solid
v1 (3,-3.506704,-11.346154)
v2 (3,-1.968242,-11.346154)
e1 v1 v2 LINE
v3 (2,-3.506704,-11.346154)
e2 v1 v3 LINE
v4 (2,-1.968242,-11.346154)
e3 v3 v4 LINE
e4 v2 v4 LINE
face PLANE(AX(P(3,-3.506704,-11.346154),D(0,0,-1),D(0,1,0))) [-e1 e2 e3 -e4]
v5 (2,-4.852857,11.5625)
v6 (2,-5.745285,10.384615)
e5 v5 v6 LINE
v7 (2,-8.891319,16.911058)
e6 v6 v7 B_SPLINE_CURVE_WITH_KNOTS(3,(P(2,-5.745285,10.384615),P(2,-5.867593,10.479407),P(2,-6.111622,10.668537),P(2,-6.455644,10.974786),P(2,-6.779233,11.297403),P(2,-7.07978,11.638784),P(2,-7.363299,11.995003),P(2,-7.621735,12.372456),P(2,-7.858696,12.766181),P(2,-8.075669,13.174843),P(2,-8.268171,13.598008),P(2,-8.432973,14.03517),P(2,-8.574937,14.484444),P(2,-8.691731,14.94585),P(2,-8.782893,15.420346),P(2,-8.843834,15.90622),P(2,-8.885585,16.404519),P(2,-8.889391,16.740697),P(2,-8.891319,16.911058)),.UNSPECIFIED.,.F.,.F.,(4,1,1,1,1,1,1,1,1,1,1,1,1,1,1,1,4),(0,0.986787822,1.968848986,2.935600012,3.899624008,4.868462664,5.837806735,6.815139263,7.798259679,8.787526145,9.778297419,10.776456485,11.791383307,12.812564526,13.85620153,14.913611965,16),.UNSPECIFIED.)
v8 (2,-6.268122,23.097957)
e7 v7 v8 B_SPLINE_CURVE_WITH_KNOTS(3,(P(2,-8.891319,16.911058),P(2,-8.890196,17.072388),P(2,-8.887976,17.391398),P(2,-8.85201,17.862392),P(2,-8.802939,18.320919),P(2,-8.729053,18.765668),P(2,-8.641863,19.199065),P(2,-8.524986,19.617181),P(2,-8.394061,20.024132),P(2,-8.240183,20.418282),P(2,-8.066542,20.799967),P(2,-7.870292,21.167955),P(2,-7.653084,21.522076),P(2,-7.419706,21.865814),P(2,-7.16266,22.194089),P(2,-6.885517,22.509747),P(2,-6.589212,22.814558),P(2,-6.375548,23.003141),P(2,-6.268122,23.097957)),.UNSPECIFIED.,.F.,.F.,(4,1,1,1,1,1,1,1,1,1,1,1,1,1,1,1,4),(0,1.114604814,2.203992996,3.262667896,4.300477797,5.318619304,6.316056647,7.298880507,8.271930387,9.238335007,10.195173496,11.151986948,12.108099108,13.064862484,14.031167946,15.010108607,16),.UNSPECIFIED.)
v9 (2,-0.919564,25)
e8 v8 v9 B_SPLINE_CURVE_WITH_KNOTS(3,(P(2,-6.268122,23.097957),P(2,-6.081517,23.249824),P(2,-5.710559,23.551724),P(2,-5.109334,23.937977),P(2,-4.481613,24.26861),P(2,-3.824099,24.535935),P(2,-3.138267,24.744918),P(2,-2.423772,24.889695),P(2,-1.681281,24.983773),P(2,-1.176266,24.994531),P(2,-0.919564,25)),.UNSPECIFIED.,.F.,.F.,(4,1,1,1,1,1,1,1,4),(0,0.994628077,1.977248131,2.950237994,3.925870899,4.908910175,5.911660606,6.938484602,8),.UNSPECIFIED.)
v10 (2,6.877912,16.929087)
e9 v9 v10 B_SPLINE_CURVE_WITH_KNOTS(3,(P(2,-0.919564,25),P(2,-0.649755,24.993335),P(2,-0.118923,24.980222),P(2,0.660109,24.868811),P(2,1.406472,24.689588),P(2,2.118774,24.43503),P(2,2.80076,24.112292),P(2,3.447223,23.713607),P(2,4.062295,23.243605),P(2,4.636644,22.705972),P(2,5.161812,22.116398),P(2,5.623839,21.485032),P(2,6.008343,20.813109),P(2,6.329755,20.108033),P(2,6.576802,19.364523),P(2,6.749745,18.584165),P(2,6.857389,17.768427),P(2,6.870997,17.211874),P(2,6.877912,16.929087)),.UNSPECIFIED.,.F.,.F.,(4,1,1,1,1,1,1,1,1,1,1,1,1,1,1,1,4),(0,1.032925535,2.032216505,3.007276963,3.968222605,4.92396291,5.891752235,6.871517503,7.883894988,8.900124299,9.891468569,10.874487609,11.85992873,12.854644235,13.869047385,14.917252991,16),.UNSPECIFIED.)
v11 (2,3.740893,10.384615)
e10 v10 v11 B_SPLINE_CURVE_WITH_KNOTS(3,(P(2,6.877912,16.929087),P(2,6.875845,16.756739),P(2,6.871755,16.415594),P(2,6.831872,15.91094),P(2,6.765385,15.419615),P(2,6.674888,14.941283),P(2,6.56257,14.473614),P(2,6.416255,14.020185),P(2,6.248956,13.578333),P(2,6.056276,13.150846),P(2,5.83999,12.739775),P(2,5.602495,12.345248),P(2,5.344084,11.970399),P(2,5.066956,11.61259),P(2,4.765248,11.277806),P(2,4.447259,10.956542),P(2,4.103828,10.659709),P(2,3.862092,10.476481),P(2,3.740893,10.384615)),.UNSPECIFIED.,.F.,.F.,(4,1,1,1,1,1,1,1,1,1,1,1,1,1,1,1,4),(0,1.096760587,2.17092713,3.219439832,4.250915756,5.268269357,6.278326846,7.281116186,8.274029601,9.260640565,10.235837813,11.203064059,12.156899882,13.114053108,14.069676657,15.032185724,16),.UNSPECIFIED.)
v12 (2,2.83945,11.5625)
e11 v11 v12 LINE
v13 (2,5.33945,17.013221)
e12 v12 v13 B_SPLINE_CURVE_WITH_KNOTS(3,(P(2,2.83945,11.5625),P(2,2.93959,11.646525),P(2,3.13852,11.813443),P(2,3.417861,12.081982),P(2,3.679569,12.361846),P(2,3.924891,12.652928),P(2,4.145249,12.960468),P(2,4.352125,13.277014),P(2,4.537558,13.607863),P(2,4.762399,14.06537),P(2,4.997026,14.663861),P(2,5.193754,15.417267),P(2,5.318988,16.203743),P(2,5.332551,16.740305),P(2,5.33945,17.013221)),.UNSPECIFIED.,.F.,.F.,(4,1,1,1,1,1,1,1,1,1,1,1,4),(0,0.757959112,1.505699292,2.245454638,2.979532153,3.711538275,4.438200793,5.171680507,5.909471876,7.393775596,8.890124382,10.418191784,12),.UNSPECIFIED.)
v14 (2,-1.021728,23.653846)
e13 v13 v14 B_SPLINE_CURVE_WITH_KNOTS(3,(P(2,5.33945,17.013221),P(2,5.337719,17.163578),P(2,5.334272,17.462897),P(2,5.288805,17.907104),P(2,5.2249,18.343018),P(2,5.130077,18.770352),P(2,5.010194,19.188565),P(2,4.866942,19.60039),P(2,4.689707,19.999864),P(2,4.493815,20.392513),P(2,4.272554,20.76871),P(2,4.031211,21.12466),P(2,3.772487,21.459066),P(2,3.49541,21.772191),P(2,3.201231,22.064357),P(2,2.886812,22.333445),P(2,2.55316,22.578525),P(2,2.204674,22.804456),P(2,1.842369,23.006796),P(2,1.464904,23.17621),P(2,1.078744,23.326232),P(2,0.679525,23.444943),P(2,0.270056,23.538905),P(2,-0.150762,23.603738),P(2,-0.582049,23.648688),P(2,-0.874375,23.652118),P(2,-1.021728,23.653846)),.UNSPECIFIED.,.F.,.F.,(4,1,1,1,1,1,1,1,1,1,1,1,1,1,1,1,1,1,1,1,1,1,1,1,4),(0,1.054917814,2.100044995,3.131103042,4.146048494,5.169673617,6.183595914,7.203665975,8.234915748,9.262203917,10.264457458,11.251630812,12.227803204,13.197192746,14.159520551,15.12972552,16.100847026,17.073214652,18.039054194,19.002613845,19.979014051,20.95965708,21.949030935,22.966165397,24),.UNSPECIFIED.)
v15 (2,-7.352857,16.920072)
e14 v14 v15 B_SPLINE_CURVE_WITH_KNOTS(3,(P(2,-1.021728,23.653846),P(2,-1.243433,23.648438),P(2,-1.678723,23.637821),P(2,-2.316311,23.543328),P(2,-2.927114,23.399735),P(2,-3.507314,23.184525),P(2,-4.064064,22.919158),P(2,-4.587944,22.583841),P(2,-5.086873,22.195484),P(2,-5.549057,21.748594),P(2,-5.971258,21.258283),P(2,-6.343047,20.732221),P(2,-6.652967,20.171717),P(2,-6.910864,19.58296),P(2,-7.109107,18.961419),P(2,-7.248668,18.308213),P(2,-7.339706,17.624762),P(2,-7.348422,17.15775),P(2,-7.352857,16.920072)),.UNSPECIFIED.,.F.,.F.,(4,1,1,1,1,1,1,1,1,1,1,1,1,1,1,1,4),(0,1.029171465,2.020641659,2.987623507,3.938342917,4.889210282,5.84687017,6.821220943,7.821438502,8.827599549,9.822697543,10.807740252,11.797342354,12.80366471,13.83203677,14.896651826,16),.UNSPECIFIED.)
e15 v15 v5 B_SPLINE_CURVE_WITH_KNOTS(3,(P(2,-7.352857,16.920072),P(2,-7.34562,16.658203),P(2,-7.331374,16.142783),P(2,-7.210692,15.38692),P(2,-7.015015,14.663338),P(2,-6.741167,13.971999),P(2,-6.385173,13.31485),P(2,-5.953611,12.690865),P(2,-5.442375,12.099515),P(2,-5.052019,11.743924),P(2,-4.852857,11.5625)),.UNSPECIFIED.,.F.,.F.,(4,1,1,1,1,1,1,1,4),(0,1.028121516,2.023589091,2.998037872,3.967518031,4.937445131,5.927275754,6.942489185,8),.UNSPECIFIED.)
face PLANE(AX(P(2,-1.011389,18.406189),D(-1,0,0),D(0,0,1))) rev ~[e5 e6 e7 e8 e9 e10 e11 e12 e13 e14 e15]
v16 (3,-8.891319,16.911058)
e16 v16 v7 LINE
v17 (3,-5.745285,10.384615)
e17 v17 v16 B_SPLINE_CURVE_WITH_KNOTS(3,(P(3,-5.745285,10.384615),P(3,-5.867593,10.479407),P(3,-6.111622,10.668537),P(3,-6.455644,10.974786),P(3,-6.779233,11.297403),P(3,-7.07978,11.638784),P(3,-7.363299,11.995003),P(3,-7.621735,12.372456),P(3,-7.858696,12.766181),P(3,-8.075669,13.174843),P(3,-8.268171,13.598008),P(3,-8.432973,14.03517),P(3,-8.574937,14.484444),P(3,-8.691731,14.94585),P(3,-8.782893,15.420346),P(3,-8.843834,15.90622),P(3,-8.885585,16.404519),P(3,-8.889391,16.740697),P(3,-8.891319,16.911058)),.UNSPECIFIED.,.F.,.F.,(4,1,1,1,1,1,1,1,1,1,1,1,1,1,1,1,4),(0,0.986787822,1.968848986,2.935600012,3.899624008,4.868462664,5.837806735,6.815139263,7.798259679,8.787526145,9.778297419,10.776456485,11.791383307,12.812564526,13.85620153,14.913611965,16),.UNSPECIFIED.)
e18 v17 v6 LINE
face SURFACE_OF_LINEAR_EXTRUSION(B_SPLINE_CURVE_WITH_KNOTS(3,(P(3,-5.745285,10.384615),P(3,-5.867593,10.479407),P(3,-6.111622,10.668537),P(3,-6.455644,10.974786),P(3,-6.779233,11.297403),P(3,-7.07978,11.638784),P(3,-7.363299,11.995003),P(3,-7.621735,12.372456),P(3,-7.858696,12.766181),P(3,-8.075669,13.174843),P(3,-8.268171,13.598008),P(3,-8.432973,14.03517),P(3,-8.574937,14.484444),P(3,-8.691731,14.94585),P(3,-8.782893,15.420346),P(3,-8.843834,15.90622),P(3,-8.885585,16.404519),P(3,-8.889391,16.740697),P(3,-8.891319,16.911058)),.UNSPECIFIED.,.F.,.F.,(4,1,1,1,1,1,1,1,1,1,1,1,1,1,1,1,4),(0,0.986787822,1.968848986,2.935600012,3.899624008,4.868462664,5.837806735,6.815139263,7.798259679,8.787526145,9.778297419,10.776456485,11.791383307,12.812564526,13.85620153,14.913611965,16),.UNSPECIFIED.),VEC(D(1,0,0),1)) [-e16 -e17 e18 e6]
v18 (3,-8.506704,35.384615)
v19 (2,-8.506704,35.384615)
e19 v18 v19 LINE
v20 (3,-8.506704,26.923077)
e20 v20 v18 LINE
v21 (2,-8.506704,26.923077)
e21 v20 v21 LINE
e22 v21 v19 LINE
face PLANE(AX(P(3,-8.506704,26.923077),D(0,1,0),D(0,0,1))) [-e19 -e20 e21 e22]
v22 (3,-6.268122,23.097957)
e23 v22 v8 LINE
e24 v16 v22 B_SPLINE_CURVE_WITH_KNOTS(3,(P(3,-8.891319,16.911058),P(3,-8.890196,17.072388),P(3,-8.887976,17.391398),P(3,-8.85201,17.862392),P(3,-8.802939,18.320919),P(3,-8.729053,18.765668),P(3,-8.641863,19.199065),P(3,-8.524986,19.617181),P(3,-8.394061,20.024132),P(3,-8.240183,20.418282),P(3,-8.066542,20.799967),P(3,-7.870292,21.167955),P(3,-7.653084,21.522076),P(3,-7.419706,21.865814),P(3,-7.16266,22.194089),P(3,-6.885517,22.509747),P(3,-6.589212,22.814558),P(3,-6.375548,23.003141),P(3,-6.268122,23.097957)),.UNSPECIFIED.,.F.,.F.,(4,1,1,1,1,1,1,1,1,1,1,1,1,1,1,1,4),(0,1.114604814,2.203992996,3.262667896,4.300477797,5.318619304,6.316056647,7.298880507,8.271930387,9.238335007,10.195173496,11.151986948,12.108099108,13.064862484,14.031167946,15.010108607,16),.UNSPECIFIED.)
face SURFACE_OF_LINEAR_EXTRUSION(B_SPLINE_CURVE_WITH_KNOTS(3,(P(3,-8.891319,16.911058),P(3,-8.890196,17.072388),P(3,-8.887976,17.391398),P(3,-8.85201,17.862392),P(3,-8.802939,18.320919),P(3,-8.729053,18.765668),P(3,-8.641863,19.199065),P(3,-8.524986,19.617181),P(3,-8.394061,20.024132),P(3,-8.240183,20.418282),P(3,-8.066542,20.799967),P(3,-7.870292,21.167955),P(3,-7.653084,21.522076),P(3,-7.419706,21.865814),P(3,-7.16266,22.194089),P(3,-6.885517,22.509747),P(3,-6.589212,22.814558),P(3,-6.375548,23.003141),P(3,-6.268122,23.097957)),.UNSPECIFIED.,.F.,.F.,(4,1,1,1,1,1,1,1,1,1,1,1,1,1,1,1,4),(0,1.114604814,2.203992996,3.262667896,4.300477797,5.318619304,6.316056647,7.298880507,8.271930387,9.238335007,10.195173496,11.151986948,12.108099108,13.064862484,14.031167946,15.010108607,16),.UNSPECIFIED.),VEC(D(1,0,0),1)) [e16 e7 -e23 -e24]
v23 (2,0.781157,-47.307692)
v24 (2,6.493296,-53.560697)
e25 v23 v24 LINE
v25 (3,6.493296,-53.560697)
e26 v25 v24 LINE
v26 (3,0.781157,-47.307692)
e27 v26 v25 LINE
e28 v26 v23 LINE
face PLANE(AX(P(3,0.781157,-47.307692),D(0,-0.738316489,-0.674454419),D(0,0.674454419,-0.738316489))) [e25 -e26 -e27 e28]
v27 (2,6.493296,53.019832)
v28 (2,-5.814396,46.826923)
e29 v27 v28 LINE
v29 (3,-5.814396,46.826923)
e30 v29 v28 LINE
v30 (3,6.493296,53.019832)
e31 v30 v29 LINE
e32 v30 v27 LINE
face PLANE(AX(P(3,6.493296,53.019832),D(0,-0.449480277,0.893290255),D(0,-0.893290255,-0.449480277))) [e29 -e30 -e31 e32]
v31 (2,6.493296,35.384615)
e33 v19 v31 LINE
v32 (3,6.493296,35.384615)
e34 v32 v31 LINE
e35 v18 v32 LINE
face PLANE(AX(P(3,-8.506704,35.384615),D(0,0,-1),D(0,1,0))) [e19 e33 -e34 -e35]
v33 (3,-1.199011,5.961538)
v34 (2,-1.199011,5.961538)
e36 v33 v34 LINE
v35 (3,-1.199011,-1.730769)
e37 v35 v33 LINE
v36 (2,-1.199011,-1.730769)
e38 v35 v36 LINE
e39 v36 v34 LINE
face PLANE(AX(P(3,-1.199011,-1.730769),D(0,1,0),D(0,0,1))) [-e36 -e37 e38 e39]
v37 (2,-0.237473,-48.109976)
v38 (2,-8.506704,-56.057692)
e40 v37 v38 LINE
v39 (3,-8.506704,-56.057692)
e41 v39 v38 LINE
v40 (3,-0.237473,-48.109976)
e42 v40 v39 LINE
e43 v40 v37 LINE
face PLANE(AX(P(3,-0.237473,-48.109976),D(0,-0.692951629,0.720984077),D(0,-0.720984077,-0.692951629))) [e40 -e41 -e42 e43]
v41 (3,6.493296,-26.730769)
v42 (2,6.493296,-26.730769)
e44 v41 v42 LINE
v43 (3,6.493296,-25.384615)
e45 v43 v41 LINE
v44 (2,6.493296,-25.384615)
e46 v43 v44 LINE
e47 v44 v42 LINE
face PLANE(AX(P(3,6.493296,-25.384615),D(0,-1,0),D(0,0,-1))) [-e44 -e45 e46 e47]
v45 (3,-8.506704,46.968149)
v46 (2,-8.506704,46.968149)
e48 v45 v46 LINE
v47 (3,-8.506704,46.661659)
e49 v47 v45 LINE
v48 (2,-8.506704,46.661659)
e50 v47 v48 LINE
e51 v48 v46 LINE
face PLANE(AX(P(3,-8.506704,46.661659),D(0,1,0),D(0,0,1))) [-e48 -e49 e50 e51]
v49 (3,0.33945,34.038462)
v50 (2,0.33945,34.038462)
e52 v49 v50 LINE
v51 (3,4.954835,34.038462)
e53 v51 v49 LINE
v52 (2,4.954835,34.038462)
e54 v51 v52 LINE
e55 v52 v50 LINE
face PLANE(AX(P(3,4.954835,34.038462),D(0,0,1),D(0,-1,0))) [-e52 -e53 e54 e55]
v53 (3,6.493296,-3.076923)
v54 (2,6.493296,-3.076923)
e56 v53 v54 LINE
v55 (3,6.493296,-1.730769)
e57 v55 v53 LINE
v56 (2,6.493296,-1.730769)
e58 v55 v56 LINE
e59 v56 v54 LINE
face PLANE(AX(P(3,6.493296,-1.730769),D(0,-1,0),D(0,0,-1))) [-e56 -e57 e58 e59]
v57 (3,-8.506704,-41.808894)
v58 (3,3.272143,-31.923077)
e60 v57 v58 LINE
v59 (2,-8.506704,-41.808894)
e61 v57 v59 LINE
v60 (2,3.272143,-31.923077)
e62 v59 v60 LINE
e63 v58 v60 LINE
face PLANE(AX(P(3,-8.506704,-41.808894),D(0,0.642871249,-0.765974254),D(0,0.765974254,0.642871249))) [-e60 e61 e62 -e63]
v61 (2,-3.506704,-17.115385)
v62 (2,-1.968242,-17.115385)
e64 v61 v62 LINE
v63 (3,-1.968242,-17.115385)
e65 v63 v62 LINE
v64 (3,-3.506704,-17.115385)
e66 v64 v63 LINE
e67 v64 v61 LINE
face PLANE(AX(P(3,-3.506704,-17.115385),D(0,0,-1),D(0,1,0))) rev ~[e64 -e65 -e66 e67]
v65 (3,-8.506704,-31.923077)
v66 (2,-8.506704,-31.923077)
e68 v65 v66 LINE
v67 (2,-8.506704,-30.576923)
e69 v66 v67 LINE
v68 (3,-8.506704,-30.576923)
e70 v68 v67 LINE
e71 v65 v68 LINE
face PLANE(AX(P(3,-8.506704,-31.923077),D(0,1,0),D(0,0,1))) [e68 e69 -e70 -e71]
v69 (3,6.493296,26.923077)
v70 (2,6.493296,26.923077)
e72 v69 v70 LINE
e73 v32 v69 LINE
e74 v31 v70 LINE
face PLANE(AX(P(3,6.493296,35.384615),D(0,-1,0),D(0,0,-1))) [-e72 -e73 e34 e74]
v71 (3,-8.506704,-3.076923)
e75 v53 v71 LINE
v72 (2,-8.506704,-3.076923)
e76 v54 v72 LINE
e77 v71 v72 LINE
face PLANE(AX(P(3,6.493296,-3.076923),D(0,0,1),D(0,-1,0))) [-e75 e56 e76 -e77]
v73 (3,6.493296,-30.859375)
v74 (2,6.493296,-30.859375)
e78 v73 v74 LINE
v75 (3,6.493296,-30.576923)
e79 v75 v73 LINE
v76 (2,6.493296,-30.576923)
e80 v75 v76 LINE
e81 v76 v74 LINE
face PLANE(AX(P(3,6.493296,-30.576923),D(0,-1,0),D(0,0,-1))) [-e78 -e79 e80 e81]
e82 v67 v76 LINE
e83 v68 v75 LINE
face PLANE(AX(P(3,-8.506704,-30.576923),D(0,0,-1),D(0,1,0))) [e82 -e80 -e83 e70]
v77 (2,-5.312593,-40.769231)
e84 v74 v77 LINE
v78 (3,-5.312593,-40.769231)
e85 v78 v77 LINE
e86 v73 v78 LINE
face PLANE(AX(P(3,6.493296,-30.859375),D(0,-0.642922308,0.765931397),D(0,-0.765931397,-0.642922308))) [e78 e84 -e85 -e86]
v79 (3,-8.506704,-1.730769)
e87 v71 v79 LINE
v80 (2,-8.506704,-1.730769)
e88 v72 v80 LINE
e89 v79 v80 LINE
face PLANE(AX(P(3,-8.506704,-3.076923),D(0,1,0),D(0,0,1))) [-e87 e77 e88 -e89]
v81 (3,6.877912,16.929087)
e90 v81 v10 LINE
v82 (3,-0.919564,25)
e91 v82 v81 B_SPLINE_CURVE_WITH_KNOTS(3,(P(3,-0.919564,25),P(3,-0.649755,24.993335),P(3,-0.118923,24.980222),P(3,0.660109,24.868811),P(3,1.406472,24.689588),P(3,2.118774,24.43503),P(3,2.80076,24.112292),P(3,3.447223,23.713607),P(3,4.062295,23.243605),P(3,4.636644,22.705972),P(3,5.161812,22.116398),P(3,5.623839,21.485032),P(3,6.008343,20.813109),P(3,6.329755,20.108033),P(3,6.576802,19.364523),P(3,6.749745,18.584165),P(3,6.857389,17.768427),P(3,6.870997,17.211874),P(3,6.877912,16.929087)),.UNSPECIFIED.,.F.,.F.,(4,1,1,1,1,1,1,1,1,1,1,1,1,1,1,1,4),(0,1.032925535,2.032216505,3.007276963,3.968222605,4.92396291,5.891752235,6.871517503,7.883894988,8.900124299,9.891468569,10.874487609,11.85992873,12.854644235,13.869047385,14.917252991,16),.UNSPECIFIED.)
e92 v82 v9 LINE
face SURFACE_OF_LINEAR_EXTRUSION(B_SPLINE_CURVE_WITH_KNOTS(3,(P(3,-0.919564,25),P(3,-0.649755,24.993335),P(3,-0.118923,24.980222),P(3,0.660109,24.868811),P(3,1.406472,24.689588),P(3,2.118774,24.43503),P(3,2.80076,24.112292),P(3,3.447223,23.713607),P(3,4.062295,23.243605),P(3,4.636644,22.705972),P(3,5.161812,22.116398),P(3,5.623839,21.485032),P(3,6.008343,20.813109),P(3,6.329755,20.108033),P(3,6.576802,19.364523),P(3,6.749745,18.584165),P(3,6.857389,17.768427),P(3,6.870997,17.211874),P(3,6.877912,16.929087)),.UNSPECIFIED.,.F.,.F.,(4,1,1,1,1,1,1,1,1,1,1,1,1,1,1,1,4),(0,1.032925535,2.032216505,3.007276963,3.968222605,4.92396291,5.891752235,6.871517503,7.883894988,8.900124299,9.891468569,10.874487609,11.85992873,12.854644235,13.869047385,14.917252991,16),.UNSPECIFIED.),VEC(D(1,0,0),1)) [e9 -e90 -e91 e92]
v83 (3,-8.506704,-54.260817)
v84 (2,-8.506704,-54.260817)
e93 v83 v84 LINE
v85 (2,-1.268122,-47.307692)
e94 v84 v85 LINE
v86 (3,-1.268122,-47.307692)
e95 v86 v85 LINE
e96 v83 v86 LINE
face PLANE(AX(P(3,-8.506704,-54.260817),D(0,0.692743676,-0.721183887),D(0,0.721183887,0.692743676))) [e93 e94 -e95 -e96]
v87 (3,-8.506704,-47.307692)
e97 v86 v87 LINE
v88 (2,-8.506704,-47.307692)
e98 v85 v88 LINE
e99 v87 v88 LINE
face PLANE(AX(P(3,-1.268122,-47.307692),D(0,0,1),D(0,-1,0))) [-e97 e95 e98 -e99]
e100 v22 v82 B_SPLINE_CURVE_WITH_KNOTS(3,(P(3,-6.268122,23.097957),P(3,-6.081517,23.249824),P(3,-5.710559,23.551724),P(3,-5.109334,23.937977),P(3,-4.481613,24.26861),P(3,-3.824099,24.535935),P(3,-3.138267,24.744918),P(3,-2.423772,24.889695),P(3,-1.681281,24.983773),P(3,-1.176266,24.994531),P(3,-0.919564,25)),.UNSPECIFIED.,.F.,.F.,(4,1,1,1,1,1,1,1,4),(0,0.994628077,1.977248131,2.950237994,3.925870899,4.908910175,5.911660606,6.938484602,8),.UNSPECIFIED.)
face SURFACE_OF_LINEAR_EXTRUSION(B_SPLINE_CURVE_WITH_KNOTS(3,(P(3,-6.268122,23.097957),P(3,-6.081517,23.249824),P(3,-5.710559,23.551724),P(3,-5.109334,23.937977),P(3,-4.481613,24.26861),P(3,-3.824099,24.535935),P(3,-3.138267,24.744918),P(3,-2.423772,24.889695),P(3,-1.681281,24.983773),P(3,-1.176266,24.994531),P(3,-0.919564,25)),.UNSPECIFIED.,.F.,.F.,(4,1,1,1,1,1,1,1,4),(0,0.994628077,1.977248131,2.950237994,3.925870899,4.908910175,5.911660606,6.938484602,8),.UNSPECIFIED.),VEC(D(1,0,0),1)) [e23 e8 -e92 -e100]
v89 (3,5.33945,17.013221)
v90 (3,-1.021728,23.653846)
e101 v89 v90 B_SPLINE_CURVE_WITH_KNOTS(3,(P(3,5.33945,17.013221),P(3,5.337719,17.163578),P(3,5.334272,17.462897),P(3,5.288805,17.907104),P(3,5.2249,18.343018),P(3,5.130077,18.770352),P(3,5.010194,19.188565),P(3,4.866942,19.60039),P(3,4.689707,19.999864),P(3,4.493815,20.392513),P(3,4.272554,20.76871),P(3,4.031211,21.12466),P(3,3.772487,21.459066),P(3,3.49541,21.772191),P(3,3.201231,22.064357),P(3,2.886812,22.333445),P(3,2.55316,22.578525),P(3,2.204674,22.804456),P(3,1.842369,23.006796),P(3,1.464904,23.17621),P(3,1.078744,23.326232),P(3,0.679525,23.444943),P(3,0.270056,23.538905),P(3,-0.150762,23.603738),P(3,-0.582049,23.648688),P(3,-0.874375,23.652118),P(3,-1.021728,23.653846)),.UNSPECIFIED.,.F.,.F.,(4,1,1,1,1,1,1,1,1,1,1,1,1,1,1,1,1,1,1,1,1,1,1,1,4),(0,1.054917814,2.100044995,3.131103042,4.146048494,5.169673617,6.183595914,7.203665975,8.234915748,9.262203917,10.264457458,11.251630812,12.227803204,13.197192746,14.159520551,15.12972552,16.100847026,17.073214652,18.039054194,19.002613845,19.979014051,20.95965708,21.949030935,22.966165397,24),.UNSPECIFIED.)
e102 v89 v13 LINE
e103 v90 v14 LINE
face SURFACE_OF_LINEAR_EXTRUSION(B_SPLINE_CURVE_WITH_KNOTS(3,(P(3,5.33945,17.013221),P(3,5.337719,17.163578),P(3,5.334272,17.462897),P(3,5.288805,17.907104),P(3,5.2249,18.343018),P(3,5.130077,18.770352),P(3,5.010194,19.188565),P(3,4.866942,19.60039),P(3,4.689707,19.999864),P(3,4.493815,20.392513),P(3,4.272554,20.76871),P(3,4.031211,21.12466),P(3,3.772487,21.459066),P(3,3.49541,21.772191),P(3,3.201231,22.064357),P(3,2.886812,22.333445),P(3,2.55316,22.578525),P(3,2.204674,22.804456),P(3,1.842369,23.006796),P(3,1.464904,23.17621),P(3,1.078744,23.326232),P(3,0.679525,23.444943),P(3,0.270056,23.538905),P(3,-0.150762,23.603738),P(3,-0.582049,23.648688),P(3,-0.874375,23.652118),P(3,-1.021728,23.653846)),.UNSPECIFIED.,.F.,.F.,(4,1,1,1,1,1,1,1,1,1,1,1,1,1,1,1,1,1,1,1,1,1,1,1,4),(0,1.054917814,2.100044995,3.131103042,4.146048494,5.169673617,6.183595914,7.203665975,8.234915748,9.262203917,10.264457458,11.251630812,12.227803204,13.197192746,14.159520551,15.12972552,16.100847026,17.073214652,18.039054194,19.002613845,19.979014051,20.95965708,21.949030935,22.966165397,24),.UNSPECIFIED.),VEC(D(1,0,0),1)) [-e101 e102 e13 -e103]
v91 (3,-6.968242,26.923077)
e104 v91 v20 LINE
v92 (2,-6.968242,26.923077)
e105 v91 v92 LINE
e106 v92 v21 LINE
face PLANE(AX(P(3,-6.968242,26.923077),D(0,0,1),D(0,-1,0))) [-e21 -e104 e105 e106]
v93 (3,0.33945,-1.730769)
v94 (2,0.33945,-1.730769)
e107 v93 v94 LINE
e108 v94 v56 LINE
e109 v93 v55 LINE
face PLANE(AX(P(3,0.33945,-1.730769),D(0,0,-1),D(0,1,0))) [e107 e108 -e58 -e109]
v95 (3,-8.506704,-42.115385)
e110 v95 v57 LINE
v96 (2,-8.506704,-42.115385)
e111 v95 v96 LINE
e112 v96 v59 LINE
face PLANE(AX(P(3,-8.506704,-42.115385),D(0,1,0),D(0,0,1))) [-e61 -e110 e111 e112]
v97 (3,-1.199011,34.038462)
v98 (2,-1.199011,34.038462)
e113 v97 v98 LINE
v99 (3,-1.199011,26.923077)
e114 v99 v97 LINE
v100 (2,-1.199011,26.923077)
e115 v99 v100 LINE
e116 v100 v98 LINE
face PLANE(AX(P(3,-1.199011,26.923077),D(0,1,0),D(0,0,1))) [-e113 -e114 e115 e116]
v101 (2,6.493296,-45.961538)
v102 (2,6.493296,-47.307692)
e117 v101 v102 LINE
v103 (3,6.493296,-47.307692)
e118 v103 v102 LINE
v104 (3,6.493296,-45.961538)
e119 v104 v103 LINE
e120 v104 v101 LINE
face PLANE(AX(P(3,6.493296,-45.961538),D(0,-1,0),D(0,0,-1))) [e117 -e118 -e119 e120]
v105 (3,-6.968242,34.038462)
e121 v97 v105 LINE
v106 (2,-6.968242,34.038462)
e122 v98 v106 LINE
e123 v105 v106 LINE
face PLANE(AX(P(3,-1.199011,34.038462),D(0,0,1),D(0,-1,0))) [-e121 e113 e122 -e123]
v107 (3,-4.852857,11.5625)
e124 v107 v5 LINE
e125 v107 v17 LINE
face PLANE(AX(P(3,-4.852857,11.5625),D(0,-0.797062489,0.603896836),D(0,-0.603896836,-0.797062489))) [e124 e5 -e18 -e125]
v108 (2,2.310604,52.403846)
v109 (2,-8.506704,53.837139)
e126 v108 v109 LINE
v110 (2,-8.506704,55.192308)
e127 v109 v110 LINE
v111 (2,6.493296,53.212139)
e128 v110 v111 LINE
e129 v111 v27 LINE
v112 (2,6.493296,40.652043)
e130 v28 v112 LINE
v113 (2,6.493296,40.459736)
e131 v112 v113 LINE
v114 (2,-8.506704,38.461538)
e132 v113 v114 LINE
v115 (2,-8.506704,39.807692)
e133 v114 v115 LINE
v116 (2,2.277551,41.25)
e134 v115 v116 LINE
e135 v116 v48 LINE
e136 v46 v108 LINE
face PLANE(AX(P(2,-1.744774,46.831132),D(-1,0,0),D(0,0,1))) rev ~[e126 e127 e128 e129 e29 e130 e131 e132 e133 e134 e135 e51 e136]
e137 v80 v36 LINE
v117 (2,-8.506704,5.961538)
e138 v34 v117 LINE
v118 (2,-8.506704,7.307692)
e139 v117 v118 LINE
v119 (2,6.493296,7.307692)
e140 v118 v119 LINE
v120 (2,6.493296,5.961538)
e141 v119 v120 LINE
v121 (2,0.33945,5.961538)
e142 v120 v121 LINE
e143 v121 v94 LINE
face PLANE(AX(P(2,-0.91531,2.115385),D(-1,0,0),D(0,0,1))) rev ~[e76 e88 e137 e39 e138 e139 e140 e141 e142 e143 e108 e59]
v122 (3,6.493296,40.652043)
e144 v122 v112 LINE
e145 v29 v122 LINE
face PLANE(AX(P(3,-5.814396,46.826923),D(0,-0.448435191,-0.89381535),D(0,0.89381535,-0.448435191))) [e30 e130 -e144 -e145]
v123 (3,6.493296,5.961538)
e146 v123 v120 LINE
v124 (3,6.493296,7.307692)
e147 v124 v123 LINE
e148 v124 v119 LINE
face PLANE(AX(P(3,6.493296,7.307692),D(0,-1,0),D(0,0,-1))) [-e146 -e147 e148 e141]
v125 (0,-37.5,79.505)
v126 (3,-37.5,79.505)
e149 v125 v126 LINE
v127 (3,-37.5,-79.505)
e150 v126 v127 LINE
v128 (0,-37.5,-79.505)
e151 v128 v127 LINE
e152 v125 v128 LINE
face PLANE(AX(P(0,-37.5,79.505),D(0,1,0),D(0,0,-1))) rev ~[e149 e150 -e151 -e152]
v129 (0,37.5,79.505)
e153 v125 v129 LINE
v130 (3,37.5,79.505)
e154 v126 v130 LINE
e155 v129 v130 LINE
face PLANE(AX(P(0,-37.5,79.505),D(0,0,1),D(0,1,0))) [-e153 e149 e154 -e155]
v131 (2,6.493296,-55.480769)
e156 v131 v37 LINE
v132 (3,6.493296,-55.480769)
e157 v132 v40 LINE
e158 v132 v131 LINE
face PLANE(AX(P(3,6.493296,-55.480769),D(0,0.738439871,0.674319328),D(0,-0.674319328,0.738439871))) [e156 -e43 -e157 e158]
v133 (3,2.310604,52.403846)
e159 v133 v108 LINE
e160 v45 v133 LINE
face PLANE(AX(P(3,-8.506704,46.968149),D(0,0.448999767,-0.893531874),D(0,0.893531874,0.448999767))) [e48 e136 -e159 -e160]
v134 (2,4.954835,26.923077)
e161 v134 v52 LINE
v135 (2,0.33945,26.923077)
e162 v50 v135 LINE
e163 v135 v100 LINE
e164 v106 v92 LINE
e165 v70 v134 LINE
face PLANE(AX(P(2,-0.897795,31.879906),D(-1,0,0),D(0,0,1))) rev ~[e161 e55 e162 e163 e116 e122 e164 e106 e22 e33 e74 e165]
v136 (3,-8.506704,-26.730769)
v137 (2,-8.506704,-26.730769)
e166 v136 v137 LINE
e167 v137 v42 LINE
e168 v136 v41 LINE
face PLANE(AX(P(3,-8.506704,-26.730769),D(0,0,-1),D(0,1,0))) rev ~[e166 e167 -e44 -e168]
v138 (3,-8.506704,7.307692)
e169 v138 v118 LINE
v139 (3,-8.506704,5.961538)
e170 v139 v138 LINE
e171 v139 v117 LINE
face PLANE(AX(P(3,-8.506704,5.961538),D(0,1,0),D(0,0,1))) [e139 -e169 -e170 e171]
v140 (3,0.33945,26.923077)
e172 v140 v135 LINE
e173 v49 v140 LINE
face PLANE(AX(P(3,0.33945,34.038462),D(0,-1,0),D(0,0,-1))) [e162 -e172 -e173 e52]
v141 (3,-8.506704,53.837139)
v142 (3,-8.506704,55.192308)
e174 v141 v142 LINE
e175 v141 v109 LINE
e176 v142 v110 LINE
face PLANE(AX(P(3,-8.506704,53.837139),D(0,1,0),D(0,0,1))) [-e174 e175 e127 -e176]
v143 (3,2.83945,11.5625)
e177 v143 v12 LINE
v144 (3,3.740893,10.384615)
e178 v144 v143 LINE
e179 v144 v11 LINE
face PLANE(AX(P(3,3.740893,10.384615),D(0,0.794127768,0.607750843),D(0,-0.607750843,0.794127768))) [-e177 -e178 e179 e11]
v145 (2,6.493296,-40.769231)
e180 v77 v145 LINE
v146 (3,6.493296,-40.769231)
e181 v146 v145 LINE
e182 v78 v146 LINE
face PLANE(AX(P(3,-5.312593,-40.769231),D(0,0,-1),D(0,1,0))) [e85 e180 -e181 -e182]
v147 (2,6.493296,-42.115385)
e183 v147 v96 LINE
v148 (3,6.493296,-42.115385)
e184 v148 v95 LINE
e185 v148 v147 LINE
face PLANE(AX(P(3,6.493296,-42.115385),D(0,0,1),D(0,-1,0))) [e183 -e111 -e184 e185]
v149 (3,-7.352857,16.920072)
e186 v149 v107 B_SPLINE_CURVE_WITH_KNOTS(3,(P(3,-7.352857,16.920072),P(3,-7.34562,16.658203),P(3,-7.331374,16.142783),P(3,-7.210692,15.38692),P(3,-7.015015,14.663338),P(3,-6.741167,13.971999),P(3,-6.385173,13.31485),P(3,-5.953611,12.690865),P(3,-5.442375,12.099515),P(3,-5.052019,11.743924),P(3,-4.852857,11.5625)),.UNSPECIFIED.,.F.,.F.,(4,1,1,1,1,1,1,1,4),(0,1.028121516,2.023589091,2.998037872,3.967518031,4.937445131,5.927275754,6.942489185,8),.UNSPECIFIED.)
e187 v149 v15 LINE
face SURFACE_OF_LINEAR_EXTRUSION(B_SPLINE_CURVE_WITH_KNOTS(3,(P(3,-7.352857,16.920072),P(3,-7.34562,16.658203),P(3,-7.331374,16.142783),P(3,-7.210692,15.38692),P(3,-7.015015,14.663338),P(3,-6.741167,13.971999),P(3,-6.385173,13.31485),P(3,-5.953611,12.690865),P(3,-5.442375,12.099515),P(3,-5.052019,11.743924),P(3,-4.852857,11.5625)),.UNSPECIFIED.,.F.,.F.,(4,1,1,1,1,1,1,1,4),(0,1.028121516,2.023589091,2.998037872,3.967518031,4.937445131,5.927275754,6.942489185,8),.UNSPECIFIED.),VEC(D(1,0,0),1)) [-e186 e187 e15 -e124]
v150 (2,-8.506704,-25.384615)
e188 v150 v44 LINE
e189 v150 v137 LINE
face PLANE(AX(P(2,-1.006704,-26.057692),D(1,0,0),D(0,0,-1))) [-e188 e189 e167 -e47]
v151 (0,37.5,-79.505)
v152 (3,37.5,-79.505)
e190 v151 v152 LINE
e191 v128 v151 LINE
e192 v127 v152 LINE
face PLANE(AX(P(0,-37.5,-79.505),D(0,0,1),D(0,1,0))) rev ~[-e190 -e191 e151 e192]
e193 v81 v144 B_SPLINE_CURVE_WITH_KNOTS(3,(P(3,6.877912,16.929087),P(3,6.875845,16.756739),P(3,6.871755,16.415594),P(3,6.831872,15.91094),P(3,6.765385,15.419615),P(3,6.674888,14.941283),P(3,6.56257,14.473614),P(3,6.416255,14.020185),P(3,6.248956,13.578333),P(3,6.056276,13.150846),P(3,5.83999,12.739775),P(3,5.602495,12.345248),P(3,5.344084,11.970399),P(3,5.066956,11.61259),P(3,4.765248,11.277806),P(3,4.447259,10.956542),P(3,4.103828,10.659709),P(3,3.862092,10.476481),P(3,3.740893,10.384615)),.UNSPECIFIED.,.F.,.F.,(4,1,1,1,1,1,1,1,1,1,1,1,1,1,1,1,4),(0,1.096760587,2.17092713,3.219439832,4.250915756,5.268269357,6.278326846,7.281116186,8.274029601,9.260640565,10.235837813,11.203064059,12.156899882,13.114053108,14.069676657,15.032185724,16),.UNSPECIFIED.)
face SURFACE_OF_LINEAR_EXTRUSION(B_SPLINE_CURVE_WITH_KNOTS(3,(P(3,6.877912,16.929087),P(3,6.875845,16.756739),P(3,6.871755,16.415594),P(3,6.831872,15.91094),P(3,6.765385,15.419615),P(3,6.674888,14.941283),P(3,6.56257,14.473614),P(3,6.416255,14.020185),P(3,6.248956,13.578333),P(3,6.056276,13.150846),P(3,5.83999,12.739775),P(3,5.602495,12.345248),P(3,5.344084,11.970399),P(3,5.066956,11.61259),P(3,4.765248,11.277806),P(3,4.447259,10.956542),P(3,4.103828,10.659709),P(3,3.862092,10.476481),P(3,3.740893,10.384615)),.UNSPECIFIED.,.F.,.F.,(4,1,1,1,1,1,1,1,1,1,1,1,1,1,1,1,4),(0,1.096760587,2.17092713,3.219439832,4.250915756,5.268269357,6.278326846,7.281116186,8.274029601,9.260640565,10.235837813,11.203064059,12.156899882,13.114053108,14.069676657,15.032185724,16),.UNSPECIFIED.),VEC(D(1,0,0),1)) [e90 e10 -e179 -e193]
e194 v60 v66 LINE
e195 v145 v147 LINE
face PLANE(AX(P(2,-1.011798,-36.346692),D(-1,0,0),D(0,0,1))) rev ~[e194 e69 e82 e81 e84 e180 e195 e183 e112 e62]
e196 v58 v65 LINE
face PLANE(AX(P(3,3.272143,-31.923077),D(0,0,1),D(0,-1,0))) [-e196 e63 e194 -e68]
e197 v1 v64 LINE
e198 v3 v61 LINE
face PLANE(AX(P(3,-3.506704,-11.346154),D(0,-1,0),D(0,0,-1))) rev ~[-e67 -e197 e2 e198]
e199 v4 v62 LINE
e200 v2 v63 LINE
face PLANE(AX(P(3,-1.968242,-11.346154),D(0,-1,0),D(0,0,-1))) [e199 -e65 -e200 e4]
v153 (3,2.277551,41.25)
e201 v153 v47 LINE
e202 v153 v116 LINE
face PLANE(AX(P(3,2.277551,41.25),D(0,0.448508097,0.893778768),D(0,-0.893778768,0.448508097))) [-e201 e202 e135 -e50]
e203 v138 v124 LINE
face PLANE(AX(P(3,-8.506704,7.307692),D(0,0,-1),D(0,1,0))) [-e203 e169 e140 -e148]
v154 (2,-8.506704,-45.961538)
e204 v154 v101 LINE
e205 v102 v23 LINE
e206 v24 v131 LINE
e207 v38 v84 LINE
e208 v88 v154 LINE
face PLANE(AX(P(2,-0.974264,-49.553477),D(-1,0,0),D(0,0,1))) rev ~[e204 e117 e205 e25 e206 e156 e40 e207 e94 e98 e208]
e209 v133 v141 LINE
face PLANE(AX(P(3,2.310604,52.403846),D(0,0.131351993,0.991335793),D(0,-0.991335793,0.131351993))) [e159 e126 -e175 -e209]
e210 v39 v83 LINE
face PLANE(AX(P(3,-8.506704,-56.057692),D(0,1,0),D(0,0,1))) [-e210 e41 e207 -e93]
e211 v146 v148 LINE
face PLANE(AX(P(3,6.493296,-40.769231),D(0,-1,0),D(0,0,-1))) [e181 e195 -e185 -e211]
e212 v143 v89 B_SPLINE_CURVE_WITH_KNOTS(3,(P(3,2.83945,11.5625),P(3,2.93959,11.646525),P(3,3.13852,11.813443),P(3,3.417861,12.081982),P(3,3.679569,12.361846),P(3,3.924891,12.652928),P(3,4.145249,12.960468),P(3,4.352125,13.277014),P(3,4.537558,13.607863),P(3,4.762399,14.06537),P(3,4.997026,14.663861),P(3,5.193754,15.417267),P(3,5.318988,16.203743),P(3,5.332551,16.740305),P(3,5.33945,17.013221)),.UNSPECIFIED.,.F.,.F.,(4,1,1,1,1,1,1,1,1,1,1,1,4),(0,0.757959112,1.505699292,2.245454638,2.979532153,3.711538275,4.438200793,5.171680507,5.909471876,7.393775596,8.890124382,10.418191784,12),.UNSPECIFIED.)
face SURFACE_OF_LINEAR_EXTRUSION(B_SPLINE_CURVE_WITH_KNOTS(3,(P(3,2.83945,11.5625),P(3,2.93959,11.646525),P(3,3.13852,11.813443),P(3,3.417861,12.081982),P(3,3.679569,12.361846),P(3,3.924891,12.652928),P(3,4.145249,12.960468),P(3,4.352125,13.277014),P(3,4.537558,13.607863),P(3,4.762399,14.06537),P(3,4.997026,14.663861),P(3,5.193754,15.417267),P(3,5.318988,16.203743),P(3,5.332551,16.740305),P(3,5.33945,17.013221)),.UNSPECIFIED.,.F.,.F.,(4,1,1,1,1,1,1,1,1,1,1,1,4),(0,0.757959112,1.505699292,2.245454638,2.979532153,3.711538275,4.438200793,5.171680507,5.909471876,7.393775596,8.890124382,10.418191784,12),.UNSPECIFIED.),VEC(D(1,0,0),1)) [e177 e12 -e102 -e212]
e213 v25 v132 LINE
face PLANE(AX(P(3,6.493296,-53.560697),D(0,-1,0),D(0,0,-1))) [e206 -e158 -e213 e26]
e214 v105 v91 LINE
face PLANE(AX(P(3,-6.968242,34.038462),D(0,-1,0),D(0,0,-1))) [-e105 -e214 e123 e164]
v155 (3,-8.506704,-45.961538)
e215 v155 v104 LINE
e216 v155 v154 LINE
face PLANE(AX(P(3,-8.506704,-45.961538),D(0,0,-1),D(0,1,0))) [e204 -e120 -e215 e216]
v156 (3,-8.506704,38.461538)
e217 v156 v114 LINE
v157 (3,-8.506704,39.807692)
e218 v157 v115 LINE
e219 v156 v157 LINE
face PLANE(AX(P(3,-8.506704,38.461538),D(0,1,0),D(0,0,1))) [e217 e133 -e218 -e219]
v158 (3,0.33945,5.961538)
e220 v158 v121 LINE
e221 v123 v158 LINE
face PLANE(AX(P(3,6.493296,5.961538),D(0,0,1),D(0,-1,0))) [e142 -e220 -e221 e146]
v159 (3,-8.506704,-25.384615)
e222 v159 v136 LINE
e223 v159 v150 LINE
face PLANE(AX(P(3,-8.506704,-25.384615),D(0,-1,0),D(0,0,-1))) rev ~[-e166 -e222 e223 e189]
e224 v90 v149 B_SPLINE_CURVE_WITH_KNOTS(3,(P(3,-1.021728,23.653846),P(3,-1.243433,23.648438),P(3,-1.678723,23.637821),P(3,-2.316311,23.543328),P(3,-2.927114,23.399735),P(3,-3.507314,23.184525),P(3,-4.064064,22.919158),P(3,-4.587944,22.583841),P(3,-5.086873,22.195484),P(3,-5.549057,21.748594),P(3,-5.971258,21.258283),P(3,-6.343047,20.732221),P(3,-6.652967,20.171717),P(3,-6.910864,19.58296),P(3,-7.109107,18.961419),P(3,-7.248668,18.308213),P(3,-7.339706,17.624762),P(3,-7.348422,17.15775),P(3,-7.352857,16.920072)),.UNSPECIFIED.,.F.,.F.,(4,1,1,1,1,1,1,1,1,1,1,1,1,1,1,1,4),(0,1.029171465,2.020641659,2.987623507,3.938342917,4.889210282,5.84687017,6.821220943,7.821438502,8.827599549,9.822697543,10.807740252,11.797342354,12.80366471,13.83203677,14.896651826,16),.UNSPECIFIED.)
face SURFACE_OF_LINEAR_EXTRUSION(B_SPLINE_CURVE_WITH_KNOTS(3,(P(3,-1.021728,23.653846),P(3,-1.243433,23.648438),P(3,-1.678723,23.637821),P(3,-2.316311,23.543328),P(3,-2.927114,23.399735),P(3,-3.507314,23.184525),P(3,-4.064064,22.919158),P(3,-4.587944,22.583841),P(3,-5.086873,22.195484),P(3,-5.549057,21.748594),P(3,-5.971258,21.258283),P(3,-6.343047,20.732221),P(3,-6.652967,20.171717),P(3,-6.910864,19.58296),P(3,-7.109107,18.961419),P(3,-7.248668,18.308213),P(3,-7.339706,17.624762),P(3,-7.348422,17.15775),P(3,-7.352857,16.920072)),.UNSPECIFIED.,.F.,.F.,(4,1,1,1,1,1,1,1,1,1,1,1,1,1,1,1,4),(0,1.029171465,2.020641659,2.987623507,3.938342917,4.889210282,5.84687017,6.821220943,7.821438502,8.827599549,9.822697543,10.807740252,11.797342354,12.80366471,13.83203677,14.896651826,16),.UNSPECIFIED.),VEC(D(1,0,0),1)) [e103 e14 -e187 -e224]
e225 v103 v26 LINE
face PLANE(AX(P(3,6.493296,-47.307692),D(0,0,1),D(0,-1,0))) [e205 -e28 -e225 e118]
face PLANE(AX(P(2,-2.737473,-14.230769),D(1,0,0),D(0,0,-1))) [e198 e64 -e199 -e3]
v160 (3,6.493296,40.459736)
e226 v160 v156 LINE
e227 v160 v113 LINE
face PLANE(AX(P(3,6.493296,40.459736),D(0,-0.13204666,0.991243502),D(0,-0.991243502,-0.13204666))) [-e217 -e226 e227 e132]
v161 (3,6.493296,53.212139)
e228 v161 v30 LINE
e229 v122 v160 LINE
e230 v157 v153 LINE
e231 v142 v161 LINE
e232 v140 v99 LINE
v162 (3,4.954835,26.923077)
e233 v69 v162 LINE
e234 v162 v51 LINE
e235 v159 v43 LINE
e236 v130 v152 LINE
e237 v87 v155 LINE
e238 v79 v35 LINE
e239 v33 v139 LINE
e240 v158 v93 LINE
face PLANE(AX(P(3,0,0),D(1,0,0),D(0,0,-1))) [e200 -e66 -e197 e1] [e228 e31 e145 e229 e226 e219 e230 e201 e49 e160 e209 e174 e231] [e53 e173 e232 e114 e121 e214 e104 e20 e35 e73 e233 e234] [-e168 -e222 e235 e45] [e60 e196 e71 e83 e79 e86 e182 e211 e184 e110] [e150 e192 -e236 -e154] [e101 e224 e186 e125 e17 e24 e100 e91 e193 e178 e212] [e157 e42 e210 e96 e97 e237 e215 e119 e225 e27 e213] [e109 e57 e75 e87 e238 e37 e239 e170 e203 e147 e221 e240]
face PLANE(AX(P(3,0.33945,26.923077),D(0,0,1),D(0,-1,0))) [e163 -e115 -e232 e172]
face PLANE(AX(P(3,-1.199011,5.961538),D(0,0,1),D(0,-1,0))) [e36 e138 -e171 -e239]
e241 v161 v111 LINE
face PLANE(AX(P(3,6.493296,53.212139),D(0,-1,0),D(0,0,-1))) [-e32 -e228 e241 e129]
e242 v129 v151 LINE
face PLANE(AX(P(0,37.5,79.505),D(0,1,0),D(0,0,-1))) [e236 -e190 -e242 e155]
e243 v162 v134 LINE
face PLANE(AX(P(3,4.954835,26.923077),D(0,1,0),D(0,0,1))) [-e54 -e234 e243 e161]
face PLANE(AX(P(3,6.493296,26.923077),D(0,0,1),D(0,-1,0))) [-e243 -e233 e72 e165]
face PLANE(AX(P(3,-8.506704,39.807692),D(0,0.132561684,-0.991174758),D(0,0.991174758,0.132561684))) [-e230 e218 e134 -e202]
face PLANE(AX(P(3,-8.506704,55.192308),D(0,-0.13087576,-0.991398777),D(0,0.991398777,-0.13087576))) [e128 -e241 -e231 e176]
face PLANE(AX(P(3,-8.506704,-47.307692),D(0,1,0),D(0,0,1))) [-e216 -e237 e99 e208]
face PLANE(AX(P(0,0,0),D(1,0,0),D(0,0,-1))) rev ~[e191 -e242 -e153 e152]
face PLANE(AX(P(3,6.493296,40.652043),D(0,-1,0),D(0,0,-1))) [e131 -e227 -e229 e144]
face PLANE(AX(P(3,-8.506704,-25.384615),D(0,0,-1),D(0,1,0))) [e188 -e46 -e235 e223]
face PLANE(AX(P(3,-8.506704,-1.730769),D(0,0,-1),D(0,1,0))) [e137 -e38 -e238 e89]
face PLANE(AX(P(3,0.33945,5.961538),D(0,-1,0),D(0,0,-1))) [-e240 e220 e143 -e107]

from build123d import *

# Parameters (mm, degrees)
CROQUIS1_W              = 159.01
CROQUIS1_H              = 75
SALIENTE_EXTRUIR1_DEPTH = 3
CROQUIS2_W              = 5.769230769
CROQUIS2_H              = 1.538461538
CROQUIS2_W_2            = 1.346153846
CROQUIS2_H_2            = 15
CORTAR_EXTRUIR1_DEPTH   = 1


with BuildPart() as part:
    # Croquis1 → Saliente-Extruir1 (new body)
    with BuildSketch(Plane(origin=(0, 0, 0), x_dir=(0, 0, -1), z_dir=(1, 0, 0))):
        Rectangle(CROQUIS1_W, CROQUIS1_H)
    extrude(amount=SALIENTE_EXTRUIR1_DEPTH)

    # Croquis2 → Cortar-Extruir1 (cut)
    with BuildSketch(Plane(origin=(3, 0, 0), x_dir=(0, 0, -1), z_dir=(1, 0, 0))):
        Polygon((-55.192307692, -8.506703652), (-53.212139423, 6.493296348), (-53.019831731, 6.493296348), (-46.826923077, -5.81439596), (-40.652043269, 6.493296348), (-40.459735577, 6.493296348), (-38.461538462, -8.506703652), (-39.807692308, -8.506703652), (-41.25, 2.277551155), (-46.661658654, -8.506703652), (-46.968149038, -8.506703652), (-52.403846154, 2.31060404), (-53.837139423, -8.506703652), align=None)
        Polygon((-35.384615385, 6.493296348), (-26.923076923, 6.493296348), (-26.923076923, 4.954834809), (-34.038461538, 4.954834809), (-34.038461538, 0.339450194), (-26.923076923, 0.339450194), (-26.923076923, -1.199011345), (-34.038461538, -1.199011345), (-34.038461538, -6.968242114), (-26.923076923, -6.968242114), (-26.923076923, -8.506703652), (-35.384615385, -8.506703652), align=None)
        with BuildLine():
            Line((-10.384615385, 3.740892502), (-11.5625, 2.839450194))
            add(Edge.make_bspline(
                [(-11.5625, 2.839450194), (-11.646525236, 2.939590065), (-11.813442865, 3.138519703), (-12.081982304, 3.417860608), (-12.361846488, 3.679568871), (-12.652928436, 3.924891213), (-12.96046752, 4.14524878), (-13.2770138, 4.352124936), (-13.607862565, 4.537558098), (-14.065369999, 4.762399467), (-14.663860778, 4.997025846), (-15.417267231, 5.19375398), (-16.203743367, 5.31898759), (-16.740304508, 5.332551196), (-17.013221154, 5.339450194)],
                knots=[0, 0, 0, 0, 0.757959112, 1.505699292, 2.245454638, 2.979532153, 3.711538275, 4.438200793, 5.171680507, 5.909471876, 7.393775596, 8.890124382, 10.418191784, 12, 12, 12, 12], degree=3))
            add(Edge.make_bspline(
                [(-17.013221154, 5.339450194), (-17.163578151, 5.337718926), (-17.462896691, 5.334272458), (-17.907104434, 5.288804778), (-18.34301751, 5.224899593), (-18.770352366, 5.130076779), (-19.188565045, 5.010194126), (-19.600389625, 4.866942352), (-19.999863625, 4.689707324), (-20.392513217, 4.493814781), (-20.768709835, 4.272554303), (-21.12466004, 4.031211367), (-21.459065617, 3.772486668), (-21.772191098, 3.495410498), (-22.06435659, 3.201230667), (-22.333445065, 2.88681206), (-22.578525395, 2.553159888), (-22.804455502, 2.204673856), (-23.006795788, 1.842369034), (-23.176209557, 1.464904447), (-23.326231509, 1.078744005), (-23.444942549, 0.679524744), (-23.538904764, 0.270055748), (-23.603737607, -0.150761915), (-23.648688198, -0.582049113), (-23.652117527, -0.874374738), (-23.653846154, -1.021727691)],
                knots=[0, 0, 0, 0, 1.054917814, 2.100044995, 3.131103042, 4.146048494, 5.169673617, 6.183595914, 7.203665975, 8.234915748, 9.262203917, 10.264457458, 11.251630812, 12.227803204, 13.197192746, 14.159520551, 15.12972552, 16.100847026, 17.073214652, 18.039054194, 19.002613845, 19.979014051, 20.95965708, 21.949030935, 22.966165397, 24, 24, 24, 24], degree=3))
            add(Edge.make_bspline(
                [(-23.653846154, -1.021727691), (-23.648438358, -1.243433348), (-23.637820868, -1.678722997), (-23.543328008, -2.316311328), (-23.39973476, -2.927114215), (-23.184525144, -3.50731354), (-22.919157785, -4.064063646), (-22.583840878, -4.587944446), (-22.195484289, -5.08687258), (-21.74859392, -5.549056641), (-21.25828328, -5.971258321), (-20.732220802, -6.343046528), (-20.171716712, -6.652967453), (-19.582959725, -6.910864366), (-18.961419237, -7.109107485), (-18.308212941, -7.248668014), (-17.624761533, -7.339705931), (-17.157749819, -7.348421737), (-16.920072115, -7.352857498)],
                knots=[0, 0, 0, 0, 1.029171465, 2.020641659, 2.987623507, 3.938342917, 4.889210282, 5.84687017, 6.821220943, 7.821438502, 8.827599549, 9.822697543, 10.807740252, 11.797342354, 12.80366471, 13.83203677, 14.896651826, 16, 16, 16, 16], degree=3))
            add(Edge.make_bspline(
                [(-16.920072115, -7.352857498), (-16.658203448, -7.345619871), (-16.142783267, -7.331374489), (-15.386920297, -7.210691992), (-14.663338444, -7.015015202), (-13.971998788, -6.741166963), (-13.314850304, -6.385172872), (-12.690864617, -5.95361054), (-12.099515029, -5.442374829), (-11.74392382, -5.052018565), (-11.5625, -4.852857498)],
                knots=[0, 0, 0, 0, 1.028121516, 2.023589091, 2.998037872, 3.967518031, 4.937445131, 5.927275754, 6.942489185, 8, 8, 8, 8], degree=3))
            Line((-11.5625, -4.852857498), (-10.384615385, -5.745285383))
            add(Edge.make_bspline(
                [(-10.384615385, -5.745285383), (-10.479407284, -5.867593034), (-10.668537035, -6.11162249), (-10.974785679, -6.455644103), (-11.297402668, -6.779232826), (-11.638784283, -7.079779774), (-11.995003389, -7.363298913), (-12.372456157, -7.621735333), (-12.766180582, -7.858696265), (-13.174842634, -8.075668799), (-13.598008118, -8.268171286), (-14.035169982, -8.432973148), (-14.484443877, -8.57493696), (-14.945850341, -8.691730975), (-15.420346442, -8.782892763), (-15.906219902, -8.843834226), (-16.404519368, -8.885585288), (-16.740696887, -8.889390642), (-16.911057692, -8.891319037)],
                knots=[0, 0, 0, 0, 0.986787822, 1.968848986, 2.935600012, 3.899624008, 4.868462664, 5.837806735, 6.815139263, 7.798259679, 8.787526145, 9.778297419, 10.776456485, 11.791383307, 12.812564526, 13.85620153, 14.913611965, 16, 16, 16, 16], degree=3))
            add(Edge.make_bspline(
                [(-16.911057692, -8.891319037), (-17.072387694, -8.890196212), (-17.391397794, -8.887975964), (-17.862392444, -8.852009532), (-18.320919219, -8.802939231), (-18.765667616, -8.729052955), (-19.199064652, -8.641862926), (-19.617181442, -8.524986112), (-20.024132344, -8.394061112), (-20.418282375, -8.240182598), (-20.799966803, -8.066541816), (-21.167954566, -7.870292277), (-21.522076419, -7.653084286), (-21.865813937, -7.41970567), (-22.194089296, -7.16266009), (-22.509747261, -6.885517371), (-22.814557874, -6.589211611), (-23.00314081, -6.375547954), (-23.097956731, -6.268121922)],
                knots=[0, 0, 0, 0, 1.114604814, 2.203992996, 3.262667896, 4.300477797, 5.318619304, 6.316056647, 7.298880507, 8.271930387, 9.238335007, 10.195173496, 11.151986948, 12.108099108, 13.064862484, 14.031167946, 15.010108607, 16, 16, 16, 16], degree=3))
            add(Edge.make_bspline(
                [(-23.097956731, -6.268121922), (-23.249823774, -6.081516826), (-23.551724389, -5.710559496), (-23.937977319, -5.109333862), (-24.268609698, -4.481612967), (-24.535935073, -3.824098986), (-24.744918215, -3.138267327), (-24.889694765, -2.423772265), (-24.98377307, -1.681281084), (-24.994531451, -1.176266275), (-25, -0.919564229)],
                knots=[0, 0, 0, 0, 0.994628077, 1.977248131, 2.950237994, 3.925870899, 4.908910175, 5.911660606, 6.938484602, 8, 8, 8, 8], degree=3))
            add(Edge.make_bspline(
                [(-25, -0.919564229), (-24.993334885, -0.649755143), (-24.980221687, -0.118922609), (-24.868811135, 0.66010862), (-24.689587722, 1.406471758), (-24.435029628, 2.11877352), (-24.112292408, 2.800760435), (-23.713606921, 3.447222742), (-23.243604883, 4.06229474), (-22.70597245, 4.636643674), (-22.116398155, 5.161812329), (-21.48503181, 5.623838916), (-20.81310918, 6.008342556), (-20.108032673, 6.329754681), (-19.364522609, 6.57680238), (-18.584165313, 6.749744609), (-17.768427107, 6.857389393), (-17.211873854, 6.870997427), (-16.929086538, 6.877911732)],
                knots=[0, 0, 0, 0, 1.032925535, 2.032216505, 3.007276963, 3.968222605, 4.92396291, 5.891752235, 6.871517503, 7.883894988, 8.900124299, 9.891468569, 10.874487609, 11.85992873, 12.854644235, 13.869047385, 14.917252991, 16, 16, 16, 16], degree=3))
            add(Edge.make_bspline(
                [(-16.929086538, 6.877911732), (-16.756738802, 6.875845426), (-16.415593813, 6.87175538), (-15.910939589, 6.831871914), (-15.41961533, 6.76538503), (-14.94128255, 6.674887588), (-14.473614195, 6.562570496), (-14.020184591, 6.416254932), (-13.578333076, 6.248955512), (-13.150846327, 6.056276372), (-12.739775397, 5.839990337), (-12.345248318, 5.602494808), (-11.970398924, 5.344084213), (-11.612589573, 5.066956318), (-11.277805811, 4.765248207), (-10.956542332, 4.44725851), (-10.65970914, 4.103827835), (-10.476481161, 3.862092404), (-10.384615385, 3.740892502)],
                knots=[0, 0, 0, 0, 1.096760587, 2.17092713, 3.219439832, 4.250915756, 5.268269357, 6.278326846, 7.281116186, 8.274029601, 9.260640565, 10.235837813, 11.203064059, 12.156899882, 13.114053108, 14.069676657, 15.032185724, 16, 16, 16, 16], degree=3))
        make_face()
        Polygon((-7.307692308, 6.493296348), (-5.961538462, 6.493296348), (-5.961538462, 0.339450194), (1.730769231, 0.339450194), (1.730769231, 6.493296348), (3.076923077, 6.493296348), (3.076923077, -8.506703652), (1.730769231, -8.506703652), (1.730769231, -1.199011345), (-5.961538462, -1.199011345), (-5.961538462, -8.506703652), (-7.307692308, -8.506703652), align=None)
        with Locations((14.23076923, -2.737472883)):
            Rectangle(CROQUIS2_W, CROQUIS2_H)
        with Locations((26.057692308, -1.006703652)):
            Rectangle(CROQUIS2_W_2, CROQUIS2_H_2)
        Polygon((30.576923077, -8.506703652), (30.576923077, 6.493296348), (30.859375, 6.493296348), (40.769230769, -5.312593075), (40.769230769, 6.493296348), (42.115384615, 6.493296348), (42.115384615, -8.506703652), (41.808894231, -8.506703652), (31.923076923, 3.272142502), (31.923076923, -8.506703652), align=None)
        Polygon((45.961538462, 6.493296348), (47.307692308, 6.493296348), (47.307692308, 0.781156925), (53.560697115, 6.493296348), (55.480769231, 6.493296348), (48.109975962, -0.237472883), (56.057692308, -8.506703652), (54.260817308, -8.506703652), (47.307692308, -1.268121922), (47.307692308, -8.506703652), (45.961538462, -8.506703652), align=None)
    extrude(amount=-CORTAR_EXTRUIR1_DEPTH, mode=Mode.SUBTRACT)


solid = part.part
